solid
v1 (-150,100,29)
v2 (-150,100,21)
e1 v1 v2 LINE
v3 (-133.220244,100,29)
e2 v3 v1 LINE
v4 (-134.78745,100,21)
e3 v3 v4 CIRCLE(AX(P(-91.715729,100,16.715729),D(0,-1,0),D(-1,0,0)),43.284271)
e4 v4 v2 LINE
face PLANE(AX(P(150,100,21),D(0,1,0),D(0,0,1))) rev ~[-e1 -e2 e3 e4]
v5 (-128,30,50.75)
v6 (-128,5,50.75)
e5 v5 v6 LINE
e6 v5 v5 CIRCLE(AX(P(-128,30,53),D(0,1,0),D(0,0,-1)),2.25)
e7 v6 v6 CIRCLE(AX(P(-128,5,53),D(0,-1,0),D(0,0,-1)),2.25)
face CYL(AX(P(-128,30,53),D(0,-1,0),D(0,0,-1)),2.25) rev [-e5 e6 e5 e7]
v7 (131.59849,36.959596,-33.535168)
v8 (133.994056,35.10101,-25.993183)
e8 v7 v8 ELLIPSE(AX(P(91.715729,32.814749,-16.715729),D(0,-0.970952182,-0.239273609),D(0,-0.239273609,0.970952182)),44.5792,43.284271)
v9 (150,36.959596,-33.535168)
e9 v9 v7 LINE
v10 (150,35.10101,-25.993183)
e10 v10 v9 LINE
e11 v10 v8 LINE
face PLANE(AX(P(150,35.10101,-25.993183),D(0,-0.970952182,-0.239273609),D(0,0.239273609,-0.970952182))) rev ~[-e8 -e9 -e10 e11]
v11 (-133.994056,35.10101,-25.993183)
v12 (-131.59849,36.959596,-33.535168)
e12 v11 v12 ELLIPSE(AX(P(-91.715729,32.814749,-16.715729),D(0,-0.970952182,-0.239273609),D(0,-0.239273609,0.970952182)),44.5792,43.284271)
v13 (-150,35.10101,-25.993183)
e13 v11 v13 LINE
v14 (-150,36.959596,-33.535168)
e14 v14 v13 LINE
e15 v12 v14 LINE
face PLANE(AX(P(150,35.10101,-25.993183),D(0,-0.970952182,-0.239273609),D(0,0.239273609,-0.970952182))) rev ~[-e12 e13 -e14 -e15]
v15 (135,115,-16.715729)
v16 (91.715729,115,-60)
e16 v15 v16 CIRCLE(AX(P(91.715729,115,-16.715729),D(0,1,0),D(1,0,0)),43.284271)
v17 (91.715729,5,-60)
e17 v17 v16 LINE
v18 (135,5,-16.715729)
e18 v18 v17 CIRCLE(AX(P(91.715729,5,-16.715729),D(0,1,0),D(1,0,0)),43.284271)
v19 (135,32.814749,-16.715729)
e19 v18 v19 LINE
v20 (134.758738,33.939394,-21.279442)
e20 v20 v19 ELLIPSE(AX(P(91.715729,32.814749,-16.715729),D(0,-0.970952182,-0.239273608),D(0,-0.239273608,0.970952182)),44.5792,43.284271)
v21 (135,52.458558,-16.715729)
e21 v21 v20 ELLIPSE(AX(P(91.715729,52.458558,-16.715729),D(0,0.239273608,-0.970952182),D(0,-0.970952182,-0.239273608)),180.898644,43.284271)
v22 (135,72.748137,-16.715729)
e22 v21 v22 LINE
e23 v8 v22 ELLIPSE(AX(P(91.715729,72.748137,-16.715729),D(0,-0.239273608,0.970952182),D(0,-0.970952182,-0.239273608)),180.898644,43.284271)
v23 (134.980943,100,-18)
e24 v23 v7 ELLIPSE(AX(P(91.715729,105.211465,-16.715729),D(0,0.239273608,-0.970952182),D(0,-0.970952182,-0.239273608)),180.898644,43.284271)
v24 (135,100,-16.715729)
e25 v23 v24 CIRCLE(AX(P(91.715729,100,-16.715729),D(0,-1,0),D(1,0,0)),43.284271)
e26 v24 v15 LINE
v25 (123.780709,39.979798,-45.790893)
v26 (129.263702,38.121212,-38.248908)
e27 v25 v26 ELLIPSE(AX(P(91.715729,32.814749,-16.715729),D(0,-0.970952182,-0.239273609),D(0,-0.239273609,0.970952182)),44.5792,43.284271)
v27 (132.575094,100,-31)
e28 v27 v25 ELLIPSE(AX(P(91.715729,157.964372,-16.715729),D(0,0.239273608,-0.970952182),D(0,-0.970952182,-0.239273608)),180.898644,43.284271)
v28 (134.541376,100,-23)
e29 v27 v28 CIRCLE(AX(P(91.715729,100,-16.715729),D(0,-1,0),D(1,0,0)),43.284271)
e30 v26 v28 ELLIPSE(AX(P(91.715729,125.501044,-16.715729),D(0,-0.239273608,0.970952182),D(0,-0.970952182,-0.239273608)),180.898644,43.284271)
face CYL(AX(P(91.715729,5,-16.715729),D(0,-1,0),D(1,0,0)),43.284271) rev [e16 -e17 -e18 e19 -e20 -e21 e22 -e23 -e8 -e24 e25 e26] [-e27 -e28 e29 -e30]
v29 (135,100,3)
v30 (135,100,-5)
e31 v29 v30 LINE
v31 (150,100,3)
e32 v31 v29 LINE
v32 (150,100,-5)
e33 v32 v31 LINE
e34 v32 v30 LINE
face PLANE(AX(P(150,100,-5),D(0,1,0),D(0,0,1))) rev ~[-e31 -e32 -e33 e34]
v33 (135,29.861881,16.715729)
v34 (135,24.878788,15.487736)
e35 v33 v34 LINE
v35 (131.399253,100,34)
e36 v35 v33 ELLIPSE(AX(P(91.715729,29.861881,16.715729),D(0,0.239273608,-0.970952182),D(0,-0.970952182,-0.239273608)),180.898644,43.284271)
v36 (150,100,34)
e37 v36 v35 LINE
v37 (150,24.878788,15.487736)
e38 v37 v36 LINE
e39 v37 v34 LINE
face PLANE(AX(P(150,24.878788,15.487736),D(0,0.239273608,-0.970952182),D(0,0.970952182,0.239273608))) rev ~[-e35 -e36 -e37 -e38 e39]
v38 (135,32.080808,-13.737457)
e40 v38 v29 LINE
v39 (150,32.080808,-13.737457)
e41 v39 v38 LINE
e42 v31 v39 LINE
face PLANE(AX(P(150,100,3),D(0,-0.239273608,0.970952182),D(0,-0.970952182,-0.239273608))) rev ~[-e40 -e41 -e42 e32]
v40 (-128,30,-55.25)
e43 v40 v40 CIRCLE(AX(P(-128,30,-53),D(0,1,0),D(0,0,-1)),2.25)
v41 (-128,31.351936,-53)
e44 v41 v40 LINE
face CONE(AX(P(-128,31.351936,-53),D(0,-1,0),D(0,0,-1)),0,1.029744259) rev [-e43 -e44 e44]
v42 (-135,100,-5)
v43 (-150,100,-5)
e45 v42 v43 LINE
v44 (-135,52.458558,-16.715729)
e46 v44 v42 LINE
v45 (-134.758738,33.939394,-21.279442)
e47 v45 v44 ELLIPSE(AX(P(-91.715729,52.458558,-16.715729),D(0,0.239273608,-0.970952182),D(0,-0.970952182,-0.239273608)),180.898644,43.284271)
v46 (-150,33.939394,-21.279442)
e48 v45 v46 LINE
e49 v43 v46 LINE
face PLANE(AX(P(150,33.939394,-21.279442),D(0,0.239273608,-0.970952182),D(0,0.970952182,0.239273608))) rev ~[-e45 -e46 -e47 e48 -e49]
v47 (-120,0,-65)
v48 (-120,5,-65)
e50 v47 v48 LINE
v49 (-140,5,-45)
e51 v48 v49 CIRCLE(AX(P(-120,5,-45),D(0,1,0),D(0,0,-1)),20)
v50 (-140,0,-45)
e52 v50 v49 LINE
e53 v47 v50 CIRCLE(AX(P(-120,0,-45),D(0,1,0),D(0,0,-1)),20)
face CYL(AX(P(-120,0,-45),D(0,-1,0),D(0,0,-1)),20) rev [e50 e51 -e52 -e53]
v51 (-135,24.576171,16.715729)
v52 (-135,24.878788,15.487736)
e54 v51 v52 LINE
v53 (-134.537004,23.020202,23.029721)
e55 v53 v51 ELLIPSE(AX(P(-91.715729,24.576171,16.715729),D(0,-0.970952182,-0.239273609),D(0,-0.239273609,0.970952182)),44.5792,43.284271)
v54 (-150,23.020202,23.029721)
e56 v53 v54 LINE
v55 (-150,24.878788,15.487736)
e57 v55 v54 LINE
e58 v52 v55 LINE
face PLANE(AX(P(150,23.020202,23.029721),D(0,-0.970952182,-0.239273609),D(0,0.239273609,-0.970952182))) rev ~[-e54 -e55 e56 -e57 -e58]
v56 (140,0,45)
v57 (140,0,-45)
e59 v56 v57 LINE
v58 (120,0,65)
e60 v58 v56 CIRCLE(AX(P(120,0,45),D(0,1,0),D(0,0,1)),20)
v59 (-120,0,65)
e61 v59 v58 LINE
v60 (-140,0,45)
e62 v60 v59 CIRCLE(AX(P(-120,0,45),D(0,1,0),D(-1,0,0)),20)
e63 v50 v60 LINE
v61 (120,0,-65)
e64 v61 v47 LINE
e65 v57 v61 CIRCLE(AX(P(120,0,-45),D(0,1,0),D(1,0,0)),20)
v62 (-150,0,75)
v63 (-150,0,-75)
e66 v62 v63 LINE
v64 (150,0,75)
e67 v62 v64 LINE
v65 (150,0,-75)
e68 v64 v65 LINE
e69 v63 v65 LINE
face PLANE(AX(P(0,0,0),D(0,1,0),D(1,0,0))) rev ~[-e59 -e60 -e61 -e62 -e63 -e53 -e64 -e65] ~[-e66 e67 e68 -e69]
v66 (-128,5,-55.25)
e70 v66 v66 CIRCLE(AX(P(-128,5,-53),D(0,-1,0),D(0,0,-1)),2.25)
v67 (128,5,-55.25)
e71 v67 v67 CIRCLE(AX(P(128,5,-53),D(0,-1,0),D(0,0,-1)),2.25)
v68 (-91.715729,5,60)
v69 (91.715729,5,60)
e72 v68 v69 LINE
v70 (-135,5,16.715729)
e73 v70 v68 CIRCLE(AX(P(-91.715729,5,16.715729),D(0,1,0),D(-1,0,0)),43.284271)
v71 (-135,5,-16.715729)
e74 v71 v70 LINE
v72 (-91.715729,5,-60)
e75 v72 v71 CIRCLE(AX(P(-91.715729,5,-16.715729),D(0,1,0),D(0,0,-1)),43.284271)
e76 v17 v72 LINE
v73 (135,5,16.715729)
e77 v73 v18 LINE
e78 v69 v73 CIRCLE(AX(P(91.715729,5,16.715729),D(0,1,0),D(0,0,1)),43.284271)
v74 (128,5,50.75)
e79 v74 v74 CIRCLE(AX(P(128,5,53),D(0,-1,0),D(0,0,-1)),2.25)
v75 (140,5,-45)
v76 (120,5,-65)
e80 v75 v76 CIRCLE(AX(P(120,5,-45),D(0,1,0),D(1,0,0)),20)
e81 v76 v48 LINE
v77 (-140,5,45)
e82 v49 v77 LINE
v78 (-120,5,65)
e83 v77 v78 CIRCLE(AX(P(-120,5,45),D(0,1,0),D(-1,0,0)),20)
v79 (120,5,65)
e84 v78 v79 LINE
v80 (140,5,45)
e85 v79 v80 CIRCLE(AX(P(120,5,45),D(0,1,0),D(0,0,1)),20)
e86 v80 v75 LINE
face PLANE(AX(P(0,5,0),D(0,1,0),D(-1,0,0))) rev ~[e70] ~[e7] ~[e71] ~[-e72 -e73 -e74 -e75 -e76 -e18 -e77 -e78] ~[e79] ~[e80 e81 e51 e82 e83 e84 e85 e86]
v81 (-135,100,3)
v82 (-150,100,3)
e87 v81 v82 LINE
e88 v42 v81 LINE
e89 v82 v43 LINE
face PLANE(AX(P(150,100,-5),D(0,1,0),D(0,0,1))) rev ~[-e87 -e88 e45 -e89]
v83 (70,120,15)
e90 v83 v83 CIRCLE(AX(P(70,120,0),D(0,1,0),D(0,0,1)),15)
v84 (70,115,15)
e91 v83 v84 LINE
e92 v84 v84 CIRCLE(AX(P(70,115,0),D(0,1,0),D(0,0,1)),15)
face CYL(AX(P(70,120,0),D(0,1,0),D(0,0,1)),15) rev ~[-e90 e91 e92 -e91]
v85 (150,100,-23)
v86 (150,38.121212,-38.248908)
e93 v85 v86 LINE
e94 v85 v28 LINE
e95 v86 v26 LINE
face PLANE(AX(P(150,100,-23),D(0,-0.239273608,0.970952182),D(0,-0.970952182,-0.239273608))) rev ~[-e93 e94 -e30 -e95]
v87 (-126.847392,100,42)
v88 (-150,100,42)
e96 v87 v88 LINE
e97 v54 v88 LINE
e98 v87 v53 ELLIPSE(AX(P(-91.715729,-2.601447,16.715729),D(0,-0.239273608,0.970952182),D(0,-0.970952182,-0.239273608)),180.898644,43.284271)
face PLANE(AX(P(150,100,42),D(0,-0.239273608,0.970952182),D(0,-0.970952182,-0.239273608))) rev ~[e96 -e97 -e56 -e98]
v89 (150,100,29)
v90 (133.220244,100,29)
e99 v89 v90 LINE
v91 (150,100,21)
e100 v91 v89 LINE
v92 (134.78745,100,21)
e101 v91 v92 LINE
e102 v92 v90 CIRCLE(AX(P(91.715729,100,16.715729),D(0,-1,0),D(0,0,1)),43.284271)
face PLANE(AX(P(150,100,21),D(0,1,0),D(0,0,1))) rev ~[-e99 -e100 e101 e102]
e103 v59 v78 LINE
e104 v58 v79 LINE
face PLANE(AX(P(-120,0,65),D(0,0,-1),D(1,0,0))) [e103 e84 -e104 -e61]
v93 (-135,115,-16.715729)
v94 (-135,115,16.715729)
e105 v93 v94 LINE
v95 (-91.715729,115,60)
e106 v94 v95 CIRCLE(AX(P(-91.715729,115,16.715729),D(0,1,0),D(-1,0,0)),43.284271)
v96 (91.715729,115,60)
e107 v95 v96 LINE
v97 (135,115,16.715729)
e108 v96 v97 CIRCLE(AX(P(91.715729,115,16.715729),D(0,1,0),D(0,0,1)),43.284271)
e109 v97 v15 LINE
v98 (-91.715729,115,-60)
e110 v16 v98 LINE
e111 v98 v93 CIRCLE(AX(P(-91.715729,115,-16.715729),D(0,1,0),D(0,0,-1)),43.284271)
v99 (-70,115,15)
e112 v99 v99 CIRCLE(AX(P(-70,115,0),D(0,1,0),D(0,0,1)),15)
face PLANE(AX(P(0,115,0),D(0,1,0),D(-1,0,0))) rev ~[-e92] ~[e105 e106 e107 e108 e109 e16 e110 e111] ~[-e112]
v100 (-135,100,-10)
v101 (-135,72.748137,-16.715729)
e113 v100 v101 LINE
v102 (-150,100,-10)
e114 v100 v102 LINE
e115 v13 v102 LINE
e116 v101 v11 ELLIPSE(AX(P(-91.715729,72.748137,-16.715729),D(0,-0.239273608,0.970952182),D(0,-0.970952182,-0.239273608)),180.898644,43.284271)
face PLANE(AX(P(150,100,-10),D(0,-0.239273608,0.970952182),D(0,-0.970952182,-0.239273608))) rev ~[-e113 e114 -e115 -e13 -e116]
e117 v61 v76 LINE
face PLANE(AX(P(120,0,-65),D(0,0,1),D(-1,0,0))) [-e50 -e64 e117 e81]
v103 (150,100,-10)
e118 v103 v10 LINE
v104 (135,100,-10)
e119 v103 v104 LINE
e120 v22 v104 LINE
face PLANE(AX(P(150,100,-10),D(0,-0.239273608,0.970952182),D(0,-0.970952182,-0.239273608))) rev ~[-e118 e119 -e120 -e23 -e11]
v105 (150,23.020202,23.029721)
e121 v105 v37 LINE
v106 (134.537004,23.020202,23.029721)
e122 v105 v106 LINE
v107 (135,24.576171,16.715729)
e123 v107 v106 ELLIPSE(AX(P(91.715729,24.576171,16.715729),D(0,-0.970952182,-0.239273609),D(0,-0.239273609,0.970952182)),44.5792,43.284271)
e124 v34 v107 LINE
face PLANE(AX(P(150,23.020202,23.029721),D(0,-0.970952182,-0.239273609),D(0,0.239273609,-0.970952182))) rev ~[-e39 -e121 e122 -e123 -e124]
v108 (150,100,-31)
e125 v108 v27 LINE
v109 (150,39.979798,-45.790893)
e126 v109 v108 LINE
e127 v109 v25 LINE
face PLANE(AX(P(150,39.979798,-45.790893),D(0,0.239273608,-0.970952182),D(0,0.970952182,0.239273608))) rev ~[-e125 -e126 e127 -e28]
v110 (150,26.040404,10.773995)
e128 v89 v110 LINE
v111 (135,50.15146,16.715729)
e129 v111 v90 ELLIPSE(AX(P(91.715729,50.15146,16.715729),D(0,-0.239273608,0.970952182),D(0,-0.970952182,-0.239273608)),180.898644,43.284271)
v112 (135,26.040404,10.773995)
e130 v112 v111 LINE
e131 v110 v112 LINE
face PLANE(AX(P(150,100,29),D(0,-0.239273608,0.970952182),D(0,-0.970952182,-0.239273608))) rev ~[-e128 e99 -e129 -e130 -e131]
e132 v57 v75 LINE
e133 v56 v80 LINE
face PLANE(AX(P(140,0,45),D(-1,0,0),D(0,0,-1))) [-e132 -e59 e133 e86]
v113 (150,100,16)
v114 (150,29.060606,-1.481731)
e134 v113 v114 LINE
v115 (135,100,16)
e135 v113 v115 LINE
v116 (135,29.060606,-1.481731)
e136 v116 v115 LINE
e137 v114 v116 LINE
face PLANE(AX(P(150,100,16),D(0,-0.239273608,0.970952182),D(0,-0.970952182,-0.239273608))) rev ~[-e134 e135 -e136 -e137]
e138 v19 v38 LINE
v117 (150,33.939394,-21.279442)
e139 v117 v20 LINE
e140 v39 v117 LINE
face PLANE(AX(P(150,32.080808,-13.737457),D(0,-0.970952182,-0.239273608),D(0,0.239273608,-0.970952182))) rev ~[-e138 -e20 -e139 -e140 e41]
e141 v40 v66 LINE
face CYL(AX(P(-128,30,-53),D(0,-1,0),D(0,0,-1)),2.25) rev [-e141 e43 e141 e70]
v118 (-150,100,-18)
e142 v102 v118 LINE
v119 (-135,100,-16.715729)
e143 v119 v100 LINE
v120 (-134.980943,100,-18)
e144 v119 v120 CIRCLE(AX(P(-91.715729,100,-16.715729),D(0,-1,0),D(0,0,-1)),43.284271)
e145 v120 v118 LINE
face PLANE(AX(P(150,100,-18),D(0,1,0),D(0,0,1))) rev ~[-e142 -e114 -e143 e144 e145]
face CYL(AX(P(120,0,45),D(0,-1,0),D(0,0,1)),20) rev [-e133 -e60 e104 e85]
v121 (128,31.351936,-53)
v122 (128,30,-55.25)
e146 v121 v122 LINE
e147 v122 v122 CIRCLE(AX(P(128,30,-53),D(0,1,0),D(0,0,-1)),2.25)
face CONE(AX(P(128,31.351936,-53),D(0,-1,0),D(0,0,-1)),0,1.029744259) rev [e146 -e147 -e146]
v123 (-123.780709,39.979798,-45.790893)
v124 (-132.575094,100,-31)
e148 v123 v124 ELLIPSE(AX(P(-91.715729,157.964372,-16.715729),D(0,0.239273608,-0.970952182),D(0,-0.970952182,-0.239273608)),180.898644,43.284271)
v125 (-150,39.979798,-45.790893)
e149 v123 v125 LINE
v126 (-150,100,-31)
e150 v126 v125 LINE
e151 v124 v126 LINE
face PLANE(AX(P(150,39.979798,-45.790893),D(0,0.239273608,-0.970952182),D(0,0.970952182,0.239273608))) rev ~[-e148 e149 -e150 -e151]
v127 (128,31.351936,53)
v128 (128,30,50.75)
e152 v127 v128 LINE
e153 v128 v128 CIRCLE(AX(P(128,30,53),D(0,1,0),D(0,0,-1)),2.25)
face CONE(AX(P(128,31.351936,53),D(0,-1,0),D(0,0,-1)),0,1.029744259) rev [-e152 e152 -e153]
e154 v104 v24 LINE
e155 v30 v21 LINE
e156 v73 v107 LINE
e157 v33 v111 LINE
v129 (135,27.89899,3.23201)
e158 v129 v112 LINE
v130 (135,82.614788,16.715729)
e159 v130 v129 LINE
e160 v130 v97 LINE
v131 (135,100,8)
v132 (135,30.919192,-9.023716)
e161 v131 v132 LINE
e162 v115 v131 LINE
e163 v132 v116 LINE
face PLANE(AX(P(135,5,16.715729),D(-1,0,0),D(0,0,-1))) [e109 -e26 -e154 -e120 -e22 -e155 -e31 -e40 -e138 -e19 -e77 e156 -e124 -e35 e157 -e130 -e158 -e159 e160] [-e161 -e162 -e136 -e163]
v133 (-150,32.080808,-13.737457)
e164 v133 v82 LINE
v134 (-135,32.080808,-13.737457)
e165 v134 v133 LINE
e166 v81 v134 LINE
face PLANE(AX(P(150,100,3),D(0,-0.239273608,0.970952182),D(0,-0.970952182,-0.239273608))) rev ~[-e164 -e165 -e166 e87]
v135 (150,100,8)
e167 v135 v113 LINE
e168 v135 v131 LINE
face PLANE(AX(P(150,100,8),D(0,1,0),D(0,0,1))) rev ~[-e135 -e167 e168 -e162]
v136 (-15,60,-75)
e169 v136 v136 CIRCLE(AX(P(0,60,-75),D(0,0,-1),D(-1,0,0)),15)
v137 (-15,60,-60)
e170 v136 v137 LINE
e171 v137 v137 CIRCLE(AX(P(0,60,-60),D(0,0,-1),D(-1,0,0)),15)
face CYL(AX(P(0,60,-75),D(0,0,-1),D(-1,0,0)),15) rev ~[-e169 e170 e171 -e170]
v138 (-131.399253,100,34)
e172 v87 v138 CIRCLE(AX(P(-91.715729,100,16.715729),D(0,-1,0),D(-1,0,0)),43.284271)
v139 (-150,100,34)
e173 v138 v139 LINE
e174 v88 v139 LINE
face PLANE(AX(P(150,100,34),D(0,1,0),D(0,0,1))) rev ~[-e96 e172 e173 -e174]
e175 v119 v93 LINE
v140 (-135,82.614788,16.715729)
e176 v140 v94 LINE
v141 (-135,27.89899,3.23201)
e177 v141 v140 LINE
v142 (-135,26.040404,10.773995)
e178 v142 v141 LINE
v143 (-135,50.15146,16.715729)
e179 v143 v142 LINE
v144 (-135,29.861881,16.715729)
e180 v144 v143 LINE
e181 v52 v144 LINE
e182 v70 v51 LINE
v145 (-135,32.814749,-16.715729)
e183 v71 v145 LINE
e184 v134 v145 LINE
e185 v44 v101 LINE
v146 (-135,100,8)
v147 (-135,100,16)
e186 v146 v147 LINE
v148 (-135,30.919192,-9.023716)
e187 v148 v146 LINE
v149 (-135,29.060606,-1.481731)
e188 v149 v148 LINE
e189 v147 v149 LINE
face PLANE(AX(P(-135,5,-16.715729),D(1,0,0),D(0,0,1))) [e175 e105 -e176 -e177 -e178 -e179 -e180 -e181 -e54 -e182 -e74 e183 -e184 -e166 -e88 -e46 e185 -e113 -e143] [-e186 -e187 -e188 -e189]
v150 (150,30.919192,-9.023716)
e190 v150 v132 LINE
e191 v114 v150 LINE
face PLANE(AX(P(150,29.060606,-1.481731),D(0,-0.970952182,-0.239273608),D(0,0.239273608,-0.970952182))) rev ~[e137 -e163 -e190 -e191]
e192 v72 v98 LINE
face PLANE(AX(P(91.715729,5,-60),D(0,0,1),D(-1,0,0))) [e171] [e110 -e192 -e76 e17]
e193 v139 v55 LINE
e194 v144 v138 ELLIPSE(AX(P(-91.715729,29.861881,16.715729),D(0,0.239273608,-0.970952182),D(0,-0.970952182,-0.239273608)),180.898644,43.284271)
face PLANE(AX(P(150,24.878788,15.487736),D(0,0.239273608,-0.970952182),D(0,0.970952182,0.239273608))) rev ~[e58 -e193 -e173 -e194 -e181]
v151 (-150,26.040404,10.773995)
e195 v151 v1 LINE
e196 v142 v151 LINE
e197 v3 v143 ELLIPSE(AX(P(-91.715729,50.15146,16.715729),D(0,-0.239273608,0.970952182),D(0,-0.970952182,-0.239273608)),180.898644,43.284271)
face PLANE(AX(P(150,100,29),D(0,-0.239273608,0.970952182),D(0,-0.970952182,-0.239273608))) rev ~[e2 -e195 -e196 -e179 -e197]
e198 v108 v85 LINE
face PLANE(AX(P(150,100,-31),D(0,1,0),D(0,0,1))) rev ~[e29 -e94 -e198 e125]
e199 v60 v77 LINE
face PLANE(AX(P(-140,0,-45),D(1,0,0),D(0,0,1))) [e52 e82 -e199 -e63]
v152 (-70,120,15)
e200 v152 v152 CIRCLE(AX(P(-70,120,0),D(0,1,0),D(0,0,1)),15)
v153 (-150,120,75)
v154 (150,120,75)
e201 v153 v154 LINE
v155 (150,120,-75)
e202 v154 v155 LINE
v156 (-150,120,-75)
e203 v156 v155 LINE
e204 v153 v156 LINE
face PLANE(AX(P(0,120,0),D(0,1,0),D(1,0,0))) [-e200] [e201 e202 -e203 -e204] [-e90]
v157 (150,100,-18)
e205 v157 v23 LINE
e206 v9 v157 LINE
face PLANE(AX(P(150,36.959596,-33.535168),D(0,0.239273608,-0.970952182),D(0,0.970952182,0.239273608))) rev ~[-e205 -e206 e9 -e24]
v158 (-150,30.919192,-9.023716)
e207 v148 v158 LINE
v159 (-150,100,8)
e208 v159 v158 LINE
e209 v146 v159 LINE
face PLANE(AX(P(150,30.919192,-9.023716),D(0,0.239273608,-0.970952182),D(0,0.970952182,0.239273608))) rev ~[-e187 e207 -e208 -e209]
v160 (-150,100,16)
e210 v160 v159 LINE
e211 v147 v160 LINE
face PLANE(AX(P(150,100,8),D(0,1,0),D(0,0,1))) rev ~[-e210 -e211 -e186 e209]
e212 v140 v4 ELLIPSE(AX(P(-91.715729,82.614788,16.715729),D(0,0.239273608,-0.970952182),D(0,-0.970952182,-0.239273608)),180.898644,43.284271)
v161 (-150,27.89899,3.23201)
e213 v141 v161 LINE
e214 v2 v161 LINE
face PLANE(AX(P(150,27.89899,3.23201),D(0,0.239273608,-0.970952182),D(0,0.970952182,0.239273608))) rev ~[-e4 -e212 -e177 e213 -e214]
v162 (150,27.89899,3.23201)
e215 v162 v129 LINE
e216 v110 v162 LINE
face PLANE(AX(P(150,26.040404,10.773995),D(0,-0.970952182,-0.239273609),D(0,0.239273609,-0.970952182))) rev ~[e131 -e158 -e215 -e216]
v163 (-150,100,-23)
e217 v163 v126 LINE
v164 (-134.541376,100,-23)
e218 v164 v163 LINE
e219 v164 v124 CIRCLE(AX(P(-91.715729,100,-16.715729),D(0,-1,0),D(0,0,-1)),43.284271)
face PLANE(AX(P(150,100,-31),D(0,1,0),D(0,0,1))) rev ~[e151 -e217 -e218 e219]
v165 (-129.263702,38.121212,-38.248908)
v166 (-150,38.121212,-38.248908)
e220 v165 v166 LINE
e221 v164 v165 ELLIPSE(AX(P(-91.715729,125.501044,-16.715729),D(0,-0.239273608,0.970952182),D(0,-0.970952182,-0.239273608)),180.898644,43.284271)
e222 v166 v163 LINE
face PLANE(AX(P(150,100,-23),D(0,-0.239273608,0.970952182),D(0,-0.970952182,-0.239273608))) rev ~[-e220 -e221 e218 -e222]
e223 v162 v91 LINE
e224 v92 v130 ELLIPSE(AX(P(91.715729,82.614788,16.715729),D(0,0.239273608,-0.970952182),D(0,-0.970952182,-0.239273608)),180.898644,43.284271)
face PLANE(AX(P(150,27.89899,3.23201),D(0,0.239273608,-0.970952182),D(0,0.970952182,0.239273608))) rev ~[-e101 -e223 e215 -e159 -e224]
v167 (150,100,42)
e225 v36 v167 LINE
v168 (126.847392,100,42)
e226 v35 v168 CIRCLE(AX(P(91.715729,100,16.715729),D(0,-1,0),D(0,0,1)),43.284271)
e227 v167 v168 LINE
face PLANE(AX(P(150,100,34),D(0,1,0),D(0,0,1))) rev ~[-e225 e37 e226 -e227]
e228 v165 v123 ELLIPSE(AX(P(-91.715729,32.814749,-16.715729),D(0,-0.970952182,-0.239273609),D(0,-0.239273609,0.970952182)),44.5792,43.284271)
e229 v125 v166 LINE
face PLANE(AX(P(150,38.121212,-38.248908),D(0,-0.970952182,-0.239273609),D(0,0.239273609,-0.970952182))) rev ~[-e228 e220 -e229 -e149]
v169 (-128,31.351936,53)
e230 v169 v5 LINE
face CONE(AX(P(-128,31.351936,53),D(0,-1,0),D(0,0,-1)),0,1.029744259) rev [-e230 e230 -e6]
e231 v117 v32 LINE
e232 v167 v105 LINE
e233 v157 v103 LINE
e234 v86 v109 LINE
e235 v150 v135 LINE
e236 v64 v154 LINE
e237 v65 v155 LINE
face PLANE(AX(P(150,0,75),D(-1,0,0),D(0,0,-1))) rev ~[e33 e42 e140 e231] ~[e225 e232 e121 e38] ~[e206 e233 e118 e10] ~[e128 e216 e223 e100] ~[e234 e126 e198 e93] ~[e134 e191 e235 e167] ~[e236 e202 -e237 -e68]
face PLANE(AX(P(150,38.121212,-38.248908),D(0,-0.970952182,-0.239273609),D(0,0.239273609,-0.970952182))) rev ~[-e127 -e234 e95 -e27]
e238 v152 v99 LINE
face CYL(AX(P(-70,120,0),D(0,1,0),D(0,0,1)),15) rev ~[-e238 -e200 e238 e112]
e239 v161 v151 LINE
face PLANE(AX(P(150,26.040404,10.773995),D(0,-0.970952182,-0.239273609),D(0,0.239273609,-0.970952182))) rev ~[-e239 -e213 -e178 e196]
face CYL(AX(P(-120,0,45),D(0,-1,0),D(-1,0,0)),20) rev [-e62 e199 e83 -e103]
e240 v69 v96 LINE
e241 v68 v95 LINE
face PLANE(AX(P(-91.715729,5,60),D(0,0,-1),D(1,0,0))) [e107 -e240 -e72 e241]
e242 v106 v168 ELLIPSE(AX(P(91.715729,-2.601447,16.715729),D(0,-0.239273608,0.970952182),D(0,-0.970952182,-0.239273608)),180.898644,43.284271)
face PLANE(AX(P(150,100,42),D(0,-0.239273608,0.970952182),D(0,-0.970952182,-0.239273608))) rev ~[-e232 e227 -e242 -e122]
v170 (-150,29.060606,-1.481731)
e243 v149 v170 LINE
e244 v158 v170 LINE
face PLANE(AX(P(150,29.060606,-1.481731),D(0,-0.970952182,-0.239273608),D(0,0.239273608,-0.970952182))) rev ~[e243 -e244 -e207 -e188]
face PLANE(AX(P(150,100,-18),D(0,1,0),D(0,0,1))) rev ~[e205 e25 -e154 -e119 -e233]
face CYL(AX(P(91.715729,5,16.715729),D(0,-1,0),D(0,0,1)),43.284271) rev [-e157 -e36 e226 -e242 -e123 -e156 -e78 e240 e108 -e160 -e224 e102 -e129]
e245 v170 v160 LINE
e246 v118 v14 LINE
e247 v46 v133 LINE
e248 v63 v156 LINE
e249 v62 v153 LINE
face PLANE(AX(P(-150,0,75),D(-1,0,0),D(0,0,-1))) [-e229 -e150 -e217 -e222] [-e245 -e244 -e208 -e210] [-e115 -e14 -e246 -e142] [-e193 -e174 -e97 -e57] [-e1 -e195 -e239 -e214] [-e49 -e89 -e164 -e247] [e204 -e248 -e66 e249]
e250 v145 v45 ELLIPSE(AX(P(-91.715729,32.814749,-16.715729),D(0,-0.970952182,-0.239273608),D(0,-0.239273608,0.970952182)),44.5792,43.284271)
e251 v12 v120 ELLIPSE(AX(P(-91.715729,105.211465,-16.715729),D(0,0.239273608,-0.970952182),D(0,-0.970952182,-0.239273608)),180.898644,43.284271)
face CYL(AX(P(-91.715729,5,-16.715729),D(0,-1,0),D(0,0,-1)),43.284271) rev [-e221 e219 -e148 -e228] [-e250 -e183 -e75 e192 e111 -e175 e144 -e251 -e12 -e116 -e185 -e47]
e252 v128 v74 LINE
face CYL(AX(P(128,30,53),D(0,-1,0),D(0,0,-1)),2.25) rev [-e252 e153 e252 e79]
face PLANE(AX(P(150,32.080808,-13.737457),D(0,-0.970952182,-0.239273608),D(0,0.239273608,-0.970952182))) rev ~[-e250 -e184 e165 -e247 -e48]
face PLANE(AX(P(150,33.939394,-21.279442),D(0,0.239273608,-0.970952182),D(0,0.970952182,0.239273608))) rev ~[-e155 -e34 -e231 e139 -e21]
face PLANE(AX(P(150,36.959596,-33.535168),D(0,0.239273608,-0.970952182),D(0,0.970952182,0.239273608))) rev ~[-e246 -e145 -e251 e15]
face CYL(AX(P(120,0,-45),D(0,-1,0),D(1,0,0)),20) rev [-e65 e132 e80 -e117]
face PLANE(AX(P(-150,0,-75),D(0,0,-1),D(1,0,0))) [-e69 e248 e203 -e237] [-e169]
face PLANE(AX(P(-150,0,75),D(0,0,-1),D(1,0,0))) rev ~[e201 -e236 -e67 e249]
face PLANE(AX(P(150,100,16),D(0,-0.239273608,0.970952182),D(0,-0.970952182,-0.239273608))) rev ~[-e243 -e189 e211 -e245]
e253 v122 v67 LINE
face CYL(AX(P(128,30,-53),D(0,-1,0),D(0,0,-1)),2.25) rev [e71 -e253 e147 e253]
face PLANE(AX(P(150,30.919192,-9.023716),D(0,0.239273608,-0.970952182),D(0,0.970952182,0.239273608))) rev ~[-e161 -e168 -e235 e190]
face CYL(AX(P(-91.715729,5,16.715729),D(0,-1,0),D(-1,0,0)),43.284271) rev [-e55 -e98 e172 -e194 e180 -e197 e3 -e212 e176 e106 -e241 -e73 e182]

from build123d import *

# Parameters (mm, degrees)
SKETCH2_W                                     = 300
SKETCH2_H                                     = 150
BOSS_EXTRUDE1_DEPTH                           = 120
CUT_EXTRUDE2_DEPTH                            = 5
CUT_EXTRUDE3_DEPTH                            = 110
CBORE_FOR_M4_PAN_HEAD_MACHINE_SCREW1_AT_COUNT = 2
CBORE_FOR_M4_PAN_HEAD_MACHINE_SCREW1_AT_PITCH = 256
CBORE_FOR_M4_PAN_HEAD_MACHINE_SCREW1_2_COUNT  = 2
CBORE_FOR_M4_PAN_HEAD_MACHINE_SCREW1_2_PITCH  = 277.077606457
CBORE_FOR_M4_PAN_HEAD_MACHINE_SCREW1_3_COUNT  = 2
CBORE_FOR_M4_PAN_HEAD_MACHINE_SCREW1_3_PITCH  = 106
CUT_EXTRUDE5_DEPTH                            = 332.700165812
SKETCH17_R                                    = 15
CUT_EXTRUDE6_DEPTH                            = 20
SKETCH3_R                                     = 15
CUT_EXTRUDE1_DEPTH                            = 50


with BuildPart() as part:
    # Sketch2 → Boss-Extrude1 (new body)
    with BuildSketch(Plane(origin=(0, 0, 0), x_dir=(1, 0, 0), z_dir=(0, 1, 0))):
        Rectangle(SKETCH2_W, SKETCH2_H)
    extrude(amount=BOSS_EXTRUDE1_DEPTH)

    # Sketch7 → Cut-Extrude2 (cut)
    with BuildSketch(Plane.XZ):
        with BuildLine():
            Line((-120, 65), (120, 65))
            ThreePointArc((120, 65), (134.142135624, 59.142135624), (140, 45))
            Line((140, 45), (140, -45))
            ThreePointArc((140, -45), (134.142135624, -59.142135624), (120, -65))
            Line((120, -65), (-120, -65))
            ThreePointArc((-120, -65), (-134.142135624, -59.142135624), (-140, -45))
            Line((-140, -45), (-140, 45))
            ThreePointArc((-140, 45), (-134.142135624, 59.142135624), (-120, 65))
        make_face()
    extrude(amount=-CUT_EXTRUDE2_DEPTH, mode=Mode.SUBTRACT)

    # Sketch8 → Cut-Extrude3 (cut)
    with BuildSketch(Plane.XZ.offset(-5)):
        with BuildLine():
            Line((-91.715728753, 60), (91.715728753, 60))
            ThreePointArc((91.715728753, 60), (122.32233047, 47.32233047), (135, 16.715728753))
            Line((135, 16.715728753), (135, -16.715728753))
            ThreePointArc((135, -16.715728753), (122.32233047, -47.32233047), (91.715728753, -60))
            Line((91.715728753, -60), (-91.715728753, -60))
            ThreePointArc((-91.715728753, -60), (-122.32233047, -47.32233047), (-135, -16.715728753))
            Line((-135, -16.715728753), (-135, 16.715728753))
            ThreePointArc((-135, 16.715728753), (-122.32233047, 47.32233047), (-91.715728753, 60))
        make_face()
    extrude(amount=-CUT_EXTRUDE3_DEPTH, mode=Mode.SUBTRACT)

    # Sketch14 → CBORE for M4 Pan Head Machine Screw1 (revolve, cut)
    with BuildSketch(Plane(origin=(128, 0, -53), x_dir=(0, 0, -1), z_dir=(1, 0, 0))):
        Polygon((0, 0), (0, 31.351936393), (2.25, 30), (2.25, 3.1), (4.5, 3.1), (4.5, 0.025), (4.525, 0), align=None)
    cbore_for_m4_pan_head_machine_screw1 = revolve(axis=Axis((128, -6.35, -53), (0, 1, 0)), mode=Mode.SUBTRACT)

    # CBORE for M4 Pan Head Machine Screw1 at: CBORE for M4 Pan Head Machine Screw1 ×2
    with Locations(*[(-i * CBORE_FOR_M4_PAN_HEAD_MACHINE_SCREW1_AT_PITCH, 0, 0) for i in range(1, CBORE_FOR_M4_PAN_HEAD_MACHINE_SCREW1_AT_COUNT)]):
        add(cbore_for_m4_pan_head_machine_screw1, mode=Mode.SUBTRACT)

    # CBORE for M4 Pan Head Machine Screw1 2: CBORE for M4 Pan Head Machine Screw1 ×2
    with Locations(*[Vector(-0.9239288705910962, 0, 0.38256429797912606) * (i * CBORE_FOR_M4_PAN_HEAD_MACHINE_SCREW1_2_PITCH) for i in range(1, CBORE_FOR_M4_PAN_HEAD_MACHINE_SCREW1_2_COUNT)]):
        add(cbore_for_m4_pan_head_machine_screw1, mode=Mode.SUBTRACT)

    # CBORE for M4 Pan Head Machine Screw1 3: CBORE for M4 Pan Head Machine Screw1 ×2
    with Locations(*[(0, 0, i * CBORE_FOR_M4_PAN_HEAD_MACHINE_SCREW1_3_PITCH) for i in range(1, CBORE_FOR_M4_PAN_HEAD_MACHINE_SCREW1_3_COUNT)]):
        add(cbore_for_m4_pan_head_machine_screw1, mode=Mode.SUBTRACT)

    # Sketch15 → Cut-Extrude5 (cut, through all)
    with BuildSketch(Plane(origin=(150, 0, 0), x_dir=(0, 0, -1), z_dir=(1, 0, 0))):
        Polygon((-42, 100), (-23.029720743, 23.02020202), (-15.487735621, 24.878787879), (-34, 100), align=None)
        Polygon((-29, 100), (-10.773994919, 26.04040404), (-3.232009797, 27.898989899), (-21, 100), align=None)
        Polygon((-16, 100), (1.481730904, 29.060606061), (9.023716027, 30.919191919), (-8, 100), align=None)
        Polygon((-3, 100), (13.737456728, 32.080808081), (21.27944185, 33.939393939), (5, 100), align=None)
        Polygon((10, 100), (25.993182552, 35.101010101), (33.535167674, 36.95959596), (18, 100), align=None)
        Polygon((23, 100), (38.248908375, 38.121212121), (45.790893498, 39.97979798), (31, 100), align=None)
    extrude(amount=-CUT_EXTRUDE5_DEPTH, mode=Mode.SUBTRACT)

    # Sketch17 → Cut-Extrude6 (cut)
    with BuildSketch(Plane(origin=(0, 0, -75), x_dir=(-1, 0, 0), z_dir=(0, 0, -1))):
        with Locations((0, 60)):
            Circle(SKETCH17_R)
    extrude(amount=-CUT_EXTRUDE6_DEPTH, mode=Mode.SUBTRACT)

    # Sketch3 → Cut-Extrude1 (cut)
    with BuildSketch(Plane(origin=(0, 120, 0), x_dir=(1, 0, 0), z_dir=(0, 1, 0))):
        with Locations(Location((-70, 0, 0), (0, 0, 270))):
            Circle(SKETCH3_R)
        with Locations(Location((70, 0, 0), (0, 0, 270))):
            Circle(SKETCH3_R)
    extrude(amount=-CUT_EXTRUDE1_DEPTH, mode=Mode.SUBTRACT)


solid = part.part
